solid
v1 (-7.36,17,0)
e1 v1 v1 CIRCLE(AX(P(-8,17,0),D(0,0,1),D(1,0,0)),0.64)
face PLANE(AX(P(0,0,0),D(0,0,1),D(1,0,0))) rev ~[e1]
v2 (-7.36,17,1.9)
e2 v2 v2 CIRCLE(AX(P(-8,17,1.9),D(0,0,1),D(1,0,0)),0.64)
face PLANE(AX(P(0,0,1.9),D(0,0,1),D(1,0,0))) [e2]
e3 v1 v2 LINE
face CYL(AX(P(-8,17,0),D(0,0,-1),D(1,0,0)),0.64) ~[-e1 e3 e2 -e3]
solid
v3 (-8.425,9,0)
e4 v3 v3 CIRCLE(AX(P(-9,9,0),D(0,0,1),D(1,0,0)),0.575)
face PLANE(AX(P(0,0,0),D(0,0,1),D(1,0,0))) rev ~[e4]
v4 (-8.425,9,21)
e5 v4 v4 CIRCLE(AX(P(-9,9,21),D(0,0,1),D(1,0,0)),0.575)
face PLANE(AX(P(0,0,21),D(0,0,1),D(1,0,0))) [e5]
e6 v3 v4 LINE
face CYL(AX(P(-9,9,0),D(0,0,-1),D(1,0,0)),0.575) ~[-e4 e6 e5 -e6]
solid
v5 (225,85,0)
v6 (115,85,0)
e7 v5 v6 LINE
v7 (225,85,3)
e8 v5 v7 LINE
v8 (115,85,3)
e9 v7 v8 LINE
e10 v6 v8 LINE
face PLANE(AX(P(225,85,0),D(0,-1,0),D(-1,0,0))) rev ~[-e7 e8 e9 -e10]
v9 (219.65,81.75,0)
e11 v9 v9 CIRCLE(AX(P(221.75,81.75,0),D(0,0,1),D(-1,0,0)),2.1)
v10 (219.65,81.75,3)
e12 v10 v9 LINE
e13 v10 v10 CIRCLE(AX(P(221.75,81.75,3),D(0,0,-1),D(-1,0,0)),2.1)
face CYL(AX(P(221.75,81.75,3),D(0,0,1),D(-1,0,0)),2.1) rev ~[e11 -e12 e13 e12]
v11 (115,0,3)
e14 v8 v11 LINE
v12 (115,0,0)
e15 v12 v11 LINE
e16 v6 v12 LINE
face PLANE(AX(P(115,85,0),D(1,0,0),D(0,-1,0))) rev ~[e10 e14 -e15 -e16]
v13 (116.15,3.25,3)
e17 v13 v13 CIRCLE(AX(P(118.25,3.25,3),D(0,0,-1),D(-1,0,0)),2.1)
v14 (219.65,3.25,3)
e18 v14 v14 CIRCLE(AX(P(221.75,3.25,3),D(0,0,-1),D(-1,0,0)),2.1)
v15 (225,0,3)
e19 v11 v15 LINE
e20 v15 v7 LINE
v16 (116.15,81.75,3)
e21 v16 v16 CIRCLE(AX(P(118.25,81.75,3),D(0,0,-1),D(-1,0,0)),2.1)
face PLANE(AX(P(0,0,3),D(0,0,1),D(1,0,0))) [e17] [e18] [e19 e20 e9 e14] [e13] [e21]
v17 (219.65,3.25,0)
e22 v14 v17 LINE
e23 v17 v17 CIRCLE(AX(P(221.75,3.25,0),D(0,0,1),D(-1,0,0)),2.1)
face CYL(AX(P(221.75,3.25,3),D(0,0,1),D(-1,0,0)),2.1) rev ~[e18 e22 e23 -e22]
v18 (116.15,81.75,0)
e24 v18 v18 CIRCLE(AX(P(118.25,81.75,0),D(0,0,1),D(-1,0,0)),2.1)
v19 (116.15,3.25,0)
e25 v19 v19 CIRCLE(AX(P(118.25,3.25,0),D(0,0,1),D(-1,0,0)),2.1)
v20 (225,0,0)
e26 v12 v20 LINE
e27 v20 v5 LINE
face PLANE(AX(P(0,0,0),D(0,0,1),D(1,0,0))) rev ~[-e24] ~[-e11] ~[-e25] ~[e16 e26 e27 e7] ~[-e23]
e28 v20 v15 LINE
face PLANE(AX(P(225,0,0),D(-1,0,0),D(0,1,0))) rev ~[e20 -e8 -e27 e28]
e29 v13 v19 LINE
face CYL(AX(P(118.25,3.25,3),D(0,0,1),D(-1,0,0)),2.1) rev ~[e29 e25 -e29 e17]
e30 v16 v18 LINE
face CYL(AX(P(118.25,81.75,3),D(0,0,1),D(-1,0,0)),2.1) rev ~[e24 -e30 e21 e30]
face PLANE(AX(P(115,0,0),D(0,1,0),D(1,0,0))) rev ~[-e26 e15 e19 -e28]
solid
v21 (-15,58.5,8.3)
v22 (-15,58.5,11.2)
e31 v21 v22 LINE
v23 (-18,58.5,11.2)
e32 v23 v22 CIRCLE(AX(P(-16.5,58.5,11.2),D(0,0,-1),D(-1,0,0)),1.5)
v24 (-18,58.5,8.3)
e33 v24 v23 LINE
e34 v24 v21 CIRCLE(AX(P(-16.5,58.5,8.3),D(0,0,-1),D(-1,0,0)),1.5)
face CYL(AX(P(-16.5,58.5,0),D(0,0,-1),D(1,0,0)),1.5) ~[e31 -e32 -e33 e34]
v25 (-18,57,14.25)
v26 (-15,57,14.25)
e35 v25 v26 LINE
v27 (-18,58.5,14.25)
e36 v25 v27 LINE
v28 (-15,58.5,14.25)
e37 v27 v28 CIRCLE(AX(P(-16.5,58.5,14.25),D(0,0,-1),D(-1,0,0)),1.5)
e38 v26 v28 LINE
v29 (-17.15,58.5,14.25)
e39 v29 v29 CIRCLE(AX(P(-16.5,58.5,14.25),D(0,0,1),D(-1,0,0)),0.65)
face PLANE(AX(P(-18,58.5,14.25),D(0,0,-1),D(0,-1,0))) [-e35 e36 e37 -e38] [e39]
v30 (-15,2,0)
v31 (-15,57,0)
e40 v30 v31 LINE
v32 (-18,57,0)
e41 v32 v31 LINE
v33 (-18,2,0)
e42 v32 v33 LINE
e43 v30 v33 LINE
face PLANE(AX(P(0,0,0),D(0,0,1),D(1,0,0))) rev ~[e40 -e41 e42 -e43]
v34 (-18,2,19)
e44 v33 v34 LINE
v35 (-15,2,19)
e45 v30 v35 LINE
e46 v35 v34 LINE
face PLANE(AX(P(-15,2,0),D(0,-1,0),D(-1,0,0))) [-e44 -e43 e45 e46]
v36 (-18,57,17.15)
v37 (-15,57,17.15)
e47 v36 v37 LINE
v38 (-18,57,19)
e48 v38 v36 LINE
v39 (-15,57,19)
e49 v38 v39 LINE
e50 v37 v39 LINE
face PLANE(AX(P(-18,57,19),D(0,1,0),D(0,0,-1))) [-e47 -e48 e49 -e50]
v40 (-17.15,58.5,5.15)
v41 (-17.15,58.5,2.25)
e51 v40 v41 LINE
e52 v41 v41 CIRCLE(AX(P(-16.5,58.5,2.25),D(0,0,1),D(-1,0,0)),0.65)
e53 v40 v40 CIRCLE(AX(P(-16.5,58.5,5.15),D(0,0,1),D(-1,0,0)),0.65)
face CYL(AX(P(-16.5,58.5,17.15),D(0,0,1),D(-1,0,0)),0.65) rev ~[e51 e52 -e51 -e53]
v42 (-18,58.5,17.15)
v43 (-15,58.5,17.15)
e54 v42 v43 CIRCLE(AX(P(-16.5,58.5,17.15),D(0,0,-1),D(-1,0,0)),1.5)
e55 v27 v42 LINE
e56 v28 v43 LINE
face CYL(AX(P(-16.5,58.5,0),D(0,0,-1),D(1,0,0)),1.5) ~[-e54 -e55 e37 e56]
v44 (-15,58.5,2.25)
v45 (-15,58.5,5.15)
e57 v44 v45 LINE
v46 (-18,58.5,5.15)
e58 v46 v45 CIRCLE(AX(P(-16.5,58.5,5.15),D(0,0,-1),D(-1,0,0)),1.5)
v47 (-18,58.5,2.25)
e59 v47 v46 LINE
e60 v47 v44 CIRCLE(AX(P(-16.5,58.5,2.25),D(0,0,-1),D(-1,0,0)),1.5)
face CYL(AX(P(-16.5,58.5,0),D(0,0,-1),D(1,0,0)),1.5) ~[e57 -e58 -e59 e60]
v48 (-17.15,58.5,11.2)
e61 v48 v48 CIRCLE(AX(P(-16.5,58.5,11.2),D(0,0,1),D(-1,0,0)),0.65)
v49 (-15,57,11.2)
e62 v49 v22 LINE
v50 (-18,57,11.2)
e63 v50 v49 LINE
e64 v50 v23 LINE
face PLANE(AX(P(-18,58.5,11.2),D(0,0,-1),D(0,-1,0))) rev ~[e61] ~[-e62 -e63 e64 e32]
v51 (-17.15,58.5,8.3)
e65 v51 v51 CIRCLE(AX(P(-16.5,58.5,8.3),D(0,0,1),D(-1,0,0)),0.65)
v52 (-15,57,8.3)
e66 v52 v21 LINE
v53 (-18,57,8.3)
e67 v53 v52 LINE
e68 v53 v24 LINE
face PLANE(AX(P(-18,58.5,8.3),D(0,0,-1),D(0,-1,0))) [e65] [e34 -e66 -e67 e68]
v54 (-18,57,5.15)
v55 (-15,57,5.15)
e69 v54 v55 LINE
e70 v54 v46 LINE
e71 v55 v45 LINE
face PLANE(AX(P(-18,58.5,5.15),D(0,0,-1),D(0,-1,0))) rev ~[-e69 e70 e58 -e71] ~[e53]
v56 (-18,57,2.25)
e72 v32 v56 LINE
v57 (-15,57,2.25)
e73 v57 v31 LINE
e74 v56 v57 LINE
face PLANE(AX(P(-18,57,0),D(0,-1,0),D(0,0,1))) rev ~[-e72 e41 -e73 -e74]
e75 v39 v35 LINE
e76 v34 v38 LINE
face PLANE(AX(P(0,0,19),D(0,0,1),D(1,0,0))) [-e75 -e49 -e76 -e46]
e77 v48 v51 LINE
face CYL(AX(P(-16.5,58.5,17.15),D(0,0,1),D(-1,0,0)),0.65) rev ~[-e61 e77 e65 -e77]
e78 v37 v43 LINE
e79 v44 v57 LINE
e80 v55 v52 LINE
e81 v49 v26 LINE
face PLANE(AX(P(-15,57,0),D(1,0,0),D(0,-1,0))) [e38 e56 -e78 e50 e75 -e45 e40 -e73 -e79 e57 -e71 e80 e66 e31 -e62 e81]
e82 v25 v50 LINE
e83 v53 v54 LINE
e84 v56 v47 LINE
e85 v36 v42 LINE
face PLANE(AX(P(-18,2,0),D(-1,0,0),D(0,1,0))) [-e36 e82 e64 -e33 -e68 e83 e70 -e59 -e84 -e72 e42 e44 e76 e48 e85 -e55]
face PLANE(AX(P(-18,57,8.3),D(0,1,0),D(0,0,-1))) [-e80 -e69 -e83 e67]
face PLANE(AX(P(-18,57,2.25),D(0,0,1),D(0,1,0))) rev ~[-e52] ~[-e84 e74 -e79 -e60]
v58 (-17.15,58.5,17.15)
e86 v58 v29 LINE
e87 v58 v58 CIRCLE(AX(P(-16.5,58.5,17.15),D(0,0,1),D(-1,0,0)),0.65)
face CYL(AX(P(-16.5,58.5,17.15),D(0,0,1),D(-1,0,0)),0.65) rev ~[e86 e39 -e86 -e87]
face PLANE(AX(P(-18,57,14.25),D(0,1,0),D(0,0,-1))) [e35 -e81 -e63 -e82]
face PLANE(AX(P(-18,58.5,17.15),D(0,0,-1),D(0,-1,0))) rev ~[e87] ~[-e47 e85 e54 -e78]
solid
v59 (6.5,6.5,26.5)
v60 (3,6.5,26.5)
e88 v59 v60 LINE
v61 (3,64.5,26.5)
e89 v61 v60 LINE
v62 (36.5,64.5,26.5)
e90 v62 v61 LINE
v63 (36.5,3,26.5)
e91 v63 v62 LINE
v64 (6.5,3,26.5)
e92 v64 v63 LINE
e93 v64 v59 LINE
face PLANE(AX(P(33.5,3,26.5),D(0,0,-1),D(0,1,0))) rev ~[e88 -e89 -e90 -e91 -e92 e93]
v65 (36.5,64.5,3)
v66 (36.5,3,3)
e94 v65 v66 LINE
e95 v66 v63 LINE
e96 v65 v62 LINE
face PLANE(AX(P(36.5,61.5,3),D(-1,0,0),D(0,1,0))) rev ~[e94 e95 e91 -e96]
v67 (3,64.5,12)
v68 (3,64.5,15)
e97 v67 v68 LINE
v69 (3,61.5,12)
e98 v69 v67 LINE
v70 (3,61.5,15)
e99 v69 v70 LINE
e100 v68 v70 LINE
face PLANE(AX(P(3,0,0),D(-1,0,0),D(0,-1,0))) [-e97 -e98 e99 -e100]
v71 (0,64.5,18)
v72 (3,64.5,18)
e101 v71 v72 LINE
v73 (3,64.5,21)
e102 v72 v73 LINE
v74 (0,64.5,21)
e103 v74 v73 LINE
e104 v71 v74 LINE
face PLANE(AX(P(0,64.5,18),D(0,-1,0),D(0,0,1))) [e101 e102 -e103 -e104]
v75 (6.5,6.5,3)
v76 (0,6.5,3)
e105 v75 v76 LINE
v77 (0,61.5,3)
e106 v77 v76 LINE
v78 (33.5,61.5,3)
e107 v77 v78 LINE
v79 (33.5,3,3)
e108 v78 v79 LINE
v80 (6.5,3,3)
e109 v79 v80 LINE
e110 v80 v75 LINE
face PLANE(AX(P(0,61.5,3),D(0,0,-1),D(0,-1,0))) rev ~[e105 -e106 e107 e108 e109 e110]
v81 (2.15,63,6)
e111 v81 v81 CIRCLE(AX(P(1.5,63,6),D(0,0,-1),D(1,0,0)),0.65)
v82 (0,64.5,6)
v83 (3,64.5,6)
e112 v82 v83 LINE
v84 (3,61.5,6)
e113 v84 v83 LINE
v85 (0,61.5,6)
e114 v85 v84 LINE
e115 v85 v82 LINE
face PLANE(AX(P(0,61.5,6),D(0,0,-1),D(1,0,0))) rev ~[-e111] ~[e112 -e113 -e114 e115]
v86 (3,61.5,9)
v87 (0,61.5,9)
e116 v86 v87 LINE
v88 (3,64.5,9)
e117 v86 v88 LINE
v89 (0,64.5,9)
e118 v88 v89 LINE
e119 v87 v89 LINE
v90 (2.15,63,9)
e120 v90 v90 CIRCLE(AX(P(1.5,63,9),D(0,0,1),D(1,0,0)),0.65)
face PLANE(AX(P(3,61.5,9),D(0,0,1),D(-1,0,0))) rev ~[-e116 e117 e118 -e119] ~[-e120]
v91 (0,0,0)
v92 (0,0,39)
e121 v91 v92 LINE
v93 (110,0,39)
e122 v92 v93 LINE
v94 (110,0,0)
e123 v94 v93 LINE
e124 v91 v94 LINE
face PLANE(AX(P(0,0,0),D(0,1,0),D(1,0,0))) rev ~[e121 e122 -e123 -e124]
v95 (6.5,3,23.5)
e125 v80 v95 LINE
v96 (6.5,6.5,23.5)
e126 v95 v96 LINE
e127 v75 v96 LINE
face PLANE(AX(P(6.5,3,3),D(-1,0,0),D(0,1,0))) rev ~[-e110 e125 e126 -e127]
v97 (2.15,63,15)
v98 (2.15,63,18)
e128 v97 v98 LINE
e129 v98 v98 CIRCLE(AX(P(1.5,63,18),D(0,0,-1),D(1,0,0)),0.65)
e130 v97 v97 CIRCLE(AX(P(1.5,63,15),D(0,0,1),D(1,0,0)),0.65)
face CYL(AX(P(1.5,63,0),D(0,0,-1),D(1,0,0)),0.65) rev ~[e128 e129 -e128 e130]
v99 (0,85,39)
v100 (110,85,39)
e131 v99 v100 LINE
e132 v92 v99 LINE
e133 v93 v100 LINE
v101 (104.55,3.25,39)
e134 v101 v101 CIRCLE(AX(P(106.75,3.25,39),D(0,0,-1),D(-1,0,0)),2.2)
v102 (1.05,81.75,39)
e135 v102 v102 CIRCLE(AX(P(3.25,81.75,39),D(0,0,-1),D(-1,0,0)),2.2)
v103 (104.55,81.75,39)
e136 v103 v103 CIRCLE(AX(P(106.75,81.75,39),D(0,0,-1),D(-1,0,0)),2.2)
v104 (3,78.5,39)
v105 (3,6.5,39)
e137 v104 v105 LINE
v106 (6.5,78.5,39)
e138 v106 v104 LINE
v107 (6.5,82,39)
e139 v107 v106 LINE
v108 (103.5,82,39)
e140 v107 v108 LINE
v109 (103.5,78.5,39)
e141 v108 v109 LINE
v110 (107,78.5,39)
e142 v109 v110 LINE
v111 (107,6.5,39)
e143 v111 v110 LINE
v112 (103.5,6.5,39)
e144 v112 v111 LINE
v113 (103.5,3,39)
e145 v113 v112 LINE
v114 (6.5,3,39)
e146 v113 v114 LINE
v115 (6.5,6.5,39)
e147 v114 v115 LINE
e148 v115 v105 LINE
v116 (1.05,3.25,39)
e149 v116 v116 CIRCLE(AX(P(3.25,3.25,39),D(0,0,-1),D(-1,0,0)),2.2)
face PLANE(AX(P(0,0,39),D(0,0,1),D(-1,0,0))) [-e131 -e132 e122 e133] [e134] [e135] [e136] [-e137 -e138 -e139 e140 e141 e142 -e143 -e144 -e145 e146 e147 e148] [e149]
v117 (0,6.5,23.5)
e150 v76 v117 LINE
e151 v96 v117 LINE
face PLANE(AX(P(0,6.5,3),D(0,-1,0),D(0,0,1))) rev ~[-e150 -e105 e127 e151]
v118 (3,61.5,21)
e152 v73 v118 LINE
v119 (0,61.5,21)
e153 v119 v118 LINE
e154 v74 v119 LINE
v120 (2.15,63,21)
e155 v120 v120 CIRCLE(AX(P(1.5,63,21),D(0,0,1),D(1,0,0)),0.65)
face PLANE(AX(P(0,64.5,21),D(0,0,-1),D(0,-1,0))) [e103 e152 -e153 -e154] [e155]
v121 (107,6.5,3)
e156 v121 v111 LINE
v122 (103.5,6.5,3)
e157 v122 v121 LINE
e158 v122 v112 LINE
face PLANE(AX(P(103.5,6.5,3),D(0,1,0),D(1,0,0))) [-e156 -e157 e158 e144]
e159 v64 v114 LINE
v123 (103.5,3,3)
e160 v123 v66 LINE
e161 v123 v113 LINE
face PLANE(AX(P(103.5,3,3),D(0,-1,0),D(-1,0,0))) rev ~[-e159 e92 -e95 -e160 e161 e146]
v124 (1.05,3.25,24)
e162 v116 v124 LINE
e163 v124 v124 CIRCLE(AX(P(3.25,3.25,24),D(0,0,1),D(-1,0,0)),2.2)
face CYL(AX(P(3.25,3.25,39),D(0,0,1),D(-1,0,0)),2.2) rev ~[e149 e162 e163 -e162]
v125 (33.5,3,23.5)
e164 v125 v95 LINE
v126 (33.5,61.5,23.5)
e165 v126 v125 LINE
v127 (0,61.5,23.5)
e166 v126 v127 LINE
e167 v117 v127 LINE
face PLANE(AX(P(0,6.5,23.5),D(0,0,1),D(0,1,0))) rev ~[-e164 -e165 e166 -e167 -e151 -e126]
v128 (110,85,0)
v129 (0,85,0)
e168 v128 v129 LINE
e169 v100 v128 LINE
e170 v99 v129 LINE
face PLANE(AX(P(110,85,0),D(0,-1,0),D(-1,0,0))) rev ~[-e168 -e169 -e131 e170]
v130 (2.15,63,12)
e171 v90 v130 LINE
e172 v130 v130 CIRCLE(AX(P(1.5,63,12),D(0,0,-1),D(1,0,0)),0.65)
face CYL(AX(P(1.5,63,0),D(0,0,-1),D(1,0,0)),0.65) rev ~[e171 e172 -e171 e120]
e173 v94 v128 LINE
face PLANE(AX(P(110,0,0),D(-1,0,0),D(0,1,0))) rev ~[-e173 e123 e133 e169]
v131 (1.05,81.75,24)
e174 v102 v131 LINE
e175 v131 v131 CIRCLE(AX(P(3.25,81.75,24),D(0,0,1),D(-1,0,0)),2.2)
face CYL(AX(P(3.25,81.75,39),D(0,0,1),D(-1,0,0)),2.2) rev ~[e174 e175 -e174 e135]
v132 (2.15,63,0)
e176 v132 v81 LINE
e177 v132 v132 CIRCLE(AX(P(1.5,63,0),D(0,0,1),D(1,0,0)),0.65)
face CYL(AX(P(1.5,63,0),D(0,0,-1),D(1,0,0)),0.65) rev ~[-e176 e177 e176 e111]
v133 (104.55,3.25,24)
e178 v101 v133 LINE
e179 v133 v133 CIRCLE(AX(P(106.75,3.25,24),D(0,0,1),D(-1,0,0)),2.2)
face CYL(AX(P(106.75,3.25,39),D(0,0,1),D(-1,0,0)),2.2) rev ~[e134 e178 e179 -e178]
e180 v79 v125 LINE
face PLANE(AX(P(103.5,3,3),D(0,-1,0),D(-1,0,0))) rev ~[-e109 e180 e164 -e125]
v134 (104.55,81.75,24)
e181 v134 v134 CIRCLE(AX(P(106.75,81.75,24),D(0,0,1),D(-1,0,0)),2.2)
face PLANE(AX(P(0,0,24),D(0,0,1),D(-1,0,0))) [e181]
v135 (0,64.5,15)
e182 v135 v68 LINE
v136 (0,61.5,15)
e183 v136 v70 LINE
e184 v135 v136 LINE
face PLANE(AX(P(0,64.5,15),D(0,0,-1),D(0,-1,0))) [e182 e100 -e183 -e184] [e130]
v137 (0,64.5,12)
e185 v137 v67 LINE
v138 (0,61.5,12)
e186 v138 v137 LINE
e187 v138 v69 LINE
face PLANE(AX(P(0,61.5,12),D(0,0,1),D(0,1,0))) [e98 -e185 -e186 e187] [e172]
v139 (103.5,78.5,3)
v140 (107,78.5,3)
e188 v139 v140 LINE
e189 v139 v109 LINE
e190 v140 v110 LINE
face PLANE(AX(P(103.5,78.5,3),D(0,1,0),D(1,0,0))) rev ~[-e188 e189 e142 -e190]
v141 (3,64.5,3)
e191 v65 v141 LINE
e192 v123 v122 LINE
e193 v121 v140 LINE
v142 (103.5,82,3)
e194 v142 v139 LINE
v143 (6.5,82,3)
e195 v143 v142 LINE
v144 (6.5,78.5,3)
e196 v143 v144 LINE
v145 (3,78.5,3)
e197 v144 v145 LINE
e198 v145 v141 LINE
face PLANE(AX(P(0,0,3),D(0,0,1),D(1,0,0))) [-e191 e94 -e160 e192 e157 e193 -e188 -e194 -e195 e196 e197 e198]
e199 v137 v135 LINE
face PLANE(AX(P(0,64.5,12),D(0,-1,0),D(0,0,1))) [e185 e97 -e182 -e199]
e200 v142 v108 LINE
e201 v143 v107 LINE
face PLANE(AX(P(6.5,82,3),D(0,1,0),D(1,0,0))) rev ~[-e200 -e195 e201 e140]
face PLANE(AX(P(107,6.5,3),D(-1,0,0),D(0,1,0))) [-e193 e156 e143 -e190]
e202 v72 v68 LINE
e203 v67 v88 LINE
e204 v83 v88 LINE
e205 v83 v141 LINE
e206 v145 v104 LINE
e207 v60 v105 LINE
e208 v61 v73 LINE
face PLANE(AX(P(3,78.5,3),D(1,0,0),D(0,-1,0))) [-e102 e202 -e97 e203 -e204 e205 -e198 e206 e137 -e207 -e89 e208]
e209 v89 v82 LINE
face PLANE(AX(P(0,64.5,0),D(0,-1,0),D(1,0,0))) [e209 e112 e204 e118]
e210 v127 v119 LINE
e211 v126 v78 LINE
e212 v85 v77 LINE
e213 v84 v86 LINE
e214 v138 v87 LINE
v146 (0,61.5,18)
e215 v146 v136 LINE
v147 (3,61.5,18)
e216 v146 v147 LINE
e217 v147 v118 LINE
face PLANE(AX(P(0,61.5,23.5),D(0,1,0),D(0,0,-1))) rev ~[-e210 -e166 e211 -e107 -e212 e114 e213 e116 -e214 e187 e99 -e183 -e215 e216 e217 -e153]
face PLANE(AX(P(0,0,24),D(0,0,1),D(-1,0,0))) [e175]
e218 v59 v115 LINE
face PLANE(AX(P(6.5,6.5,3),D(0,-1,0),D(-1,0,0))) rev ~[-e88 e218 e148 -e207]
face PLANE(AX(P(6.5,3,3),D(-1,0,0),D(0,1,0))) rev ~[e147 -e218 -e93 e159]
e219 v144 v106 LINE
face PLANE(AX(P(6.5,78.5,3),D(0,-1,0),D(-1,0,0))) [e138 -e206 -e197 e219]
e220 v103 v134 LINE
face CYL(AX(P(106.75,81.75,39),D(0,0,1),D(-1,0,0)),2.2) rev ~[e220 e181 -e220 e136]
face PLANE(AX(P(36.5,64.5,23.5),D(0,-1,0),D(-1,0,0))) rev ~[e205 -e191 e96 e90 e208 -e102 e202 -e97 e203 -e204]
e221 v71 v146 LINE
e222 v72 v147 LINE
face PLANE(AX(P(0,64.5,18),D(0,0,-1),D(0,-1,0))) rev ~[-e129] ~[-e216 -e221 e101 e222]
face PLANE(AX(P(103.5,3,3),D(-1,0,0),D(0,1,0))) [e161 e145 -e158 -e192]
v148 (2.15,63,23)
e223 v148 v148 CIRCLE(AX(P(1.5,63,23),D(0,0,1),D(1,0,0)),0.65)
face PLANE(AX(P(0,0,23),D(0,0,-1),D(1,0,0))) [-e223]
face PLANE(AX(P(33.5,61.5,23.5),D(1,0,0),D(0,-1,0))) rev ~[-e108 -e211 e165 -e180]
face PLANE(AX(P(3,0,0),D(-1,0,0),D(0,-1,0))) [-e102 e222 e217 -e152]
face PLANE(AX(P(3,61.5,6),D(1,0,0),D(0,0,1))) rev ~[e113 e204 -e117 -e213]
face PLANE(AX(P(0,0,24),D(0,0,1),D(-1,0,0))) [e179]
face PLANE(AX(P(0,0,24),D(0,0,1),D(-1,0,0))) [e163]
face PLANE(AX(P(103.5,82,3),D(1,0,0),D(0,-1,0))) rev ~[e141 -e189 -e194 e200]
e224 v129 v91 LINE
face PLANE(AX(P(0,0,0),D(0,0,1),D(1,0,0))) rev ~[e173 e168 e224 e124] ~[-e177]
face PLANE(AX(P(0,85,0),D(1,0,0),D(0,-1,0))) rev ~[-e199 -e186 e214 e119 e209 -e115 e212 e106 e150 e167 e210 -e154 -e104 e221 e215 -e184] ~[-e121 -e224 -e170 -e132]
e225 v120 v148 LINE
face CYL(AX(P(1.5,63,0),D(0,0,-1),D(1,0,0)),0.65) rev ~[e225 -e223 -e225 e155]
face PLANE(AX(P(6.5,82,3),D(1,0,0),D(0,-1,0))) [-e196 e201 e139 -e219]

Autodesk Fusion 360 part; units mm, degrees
sketch "Sketch1" plane through (0, 0, 0) normal (0, 0, 1) x (1, 0, 0)
  line L0 (0, 0) -> (110, 0)
  line L1 (110, 0) -> (110, 85)
  line L2 (110, 85) -> (0, 85)
  line L3 (0, 85) -> (0, 0)
  dimension "d1" = 110
  dimension "d2" = 85
extrude "Extrude1" add sketch "Sketch1" along normal blind 3 makes body 1
sketch "Sketch2" plane through (0, 0, 3) normal (0, 0, 1) x (-1, 0, 0)
  line L0 (0, -85) -> (0, 0)
  line L1 (0, 0) -> (-110, 0)
  line L2 (-110, 0) -> (-110, -85)
  line L3 (-110, -85) -> (0, -85)
  line L4 (0, 0) -> (-6.5, 0)
  line L5 (-6.5, 0) -> (-6.5, -6.5)
  line L6 (-6.5, -6.5) -> (0, -6.5)
  line L7 (0, -6.5) -> (0, 0)
  line L8 (0, -85) -> (-6.5, -85)
  line L9 (-6.5, -85) -> (-6.5, -78.5)
  line L10 (-6.5, -78.5) -> (0, -78.5)
  line L11 (0, -78.5) -> (0, -85)
  line L12 (-110, -85) -> (-103.5, -85)
  line L13 (-103.5, -85) -> (-103.5, -78.5)
  line L14 (-103.5, -78.5) -> (-110, -78.5)
  line L15 (-110, -78.5) -> (-110, -85)
  line L16 (-110, 0) -> (-103.5, 0)
  line L17 (-103.5, 0) -> (-103.5, -6.5)
  line L18 (-103.5, -6.5) -> (-110, -6.5)
  line L19 (-110, -6.5) -> (-110, 0)
  line L20 (-6.5, 0) -> (-103.5, 0)
  line L21 (-103.5, 0) -> (-103.5, -3)
  line L22 (-103.5, -3) -> (-6.5, -3)
  line L23 (-6.5, -3) -> (-6.5, 0)
  line L24 (-110, -6.5) -> (-107, -6.5)
  line L25 (-107, -6.5) -> (-107, -78.5)
  line L26 (-107, -78.5) -> (-110, -78.5)
  line L27 (-110, -78.5) -> (-110, -6.5)
  line L28 (-103.5, -85) -> (-6.5, -85)
  line L29 (-6.5, -85) -> (-6.5, -82)
  line L30 (-6.5, -82) -> (-103.5, -82)
  line L31 (-103.5, -82) -> (-103.5, -85)
  line L32 (0, -78.5) -> (-3, -78.5)
  line L33 (-3, -78.5) -> (-3, -6.5)
  line L34 (-3, -6.5) -> (0, -6.5)
  line L35 (0, -6.5) -> (0, -78.5)
  dimension "d5" = 6.5
  dimension "d6" = 6.5
  dimension "d7" = 6.5
  dimension "d8" = 6.5
  dimension "d9" = 6.5
  dimension "d10" = 6.5
  dimension "d11" = 6.5
  dimension "d12" = 6.5
  dimension "d13" = 97
  dimension "d14" = 3
  dimension "d15" = 3
  dimension "d16" = 72
  dimension "d17" = 3
  dimension "d18" = 3
extrude "Extrude2" add sketch "Sketch2" along normal blind 36 contours L0 L3 L8 L9 L10 L11 L29 L32 | L0 L6 L10 L32 L33 L34 L35 | L3 L9 L13 L28 L29 L30 L31 | L0 L1 L4 L5 L6 L7 L23 L34 | L2 L3 L12 L13 L14 L15 L26 L31 | L1 L5 L17 L20 L21 L22 L23 | L2 L14 L18 L24 L25 L26 L27 | L1 L2 L16 L17 L18 L19 L21 L24 bodies 1
sketch "Sketch3" plane through (0, 0, 3) normal (0, 0, 1) x (-1, 0, 0)
  line L0 (-6.5, -78.5) -> (-3, -78.5)
  line L1 (-3, -78.5) -> (-3, -6.5)
  line L2 (-3, -6.5) -> (-6.5, -6.5)
  line L3 (-6.5, -6.5) -> (-6.5, -3)
  line L4 (-6.5, -3) -> (-103.5, -3)
  line L5 (-103.5, -3) -> (-103.5, -6.5)
  line L6 (-103.5, -6.5) -> (-107, -6.5)
  line L7 (-107, -6.5) -> (-107, -78.5)
  line L8 (-107, -78.5) -> (-103.5, -78.5)
  line L9 (-103.5, -78.5) -> (-103.5, -82)
  line L10 (-103.5, -82) -> (-6.5, -82)
  line L11 (-6.5, -82) -> (-6.5, -78.5)
  line L12 (-6.5, -3) -> (-33.5, -3)
  line L13 (-6.5, -6.5) -> (-6.5, -61.5)
  line L14 (-6.5, -61.5) -> (-1.333, -61.5)
  line L15 (-3, -61.5) -> (-36.5, -61.5)
  line L16 (-36.5, -61.5) -> (-36.5, -64.5)
  line L17 (-36.5, -64.5) -> (-3, -64.5)
  line L18 (-3, -64.5) -> (-3, -61.5)
  line L19 (-36.5, -64.5) -> (-33.5, -64.5)
  line L20 (-33.5, -64.5) -> (-33.5, -3)
  line L21 (-33.5, -3) -> (-36.5, -3)
  line L22 (-36.5, -3) -> (-36.5, -64.5)
  dimension "d21" = 27
  dimension "d22" = 55
  dimension "d23" = 33.5
  dimension "d24" = 3
extrude "Extrude3" add sketch "Sketch3" along normal blind 20.5 contours L1 L14 L15 L17 L18 L20 | L15 L16 L17 L19 L20 L22 | L4 L15 L20 L21 L22 bodies 1
sketch "Sketch4" plane through (0, 0, 23.5) normal (0, 0, 1) x (-1, 0, 0)
  line L0 (-36.5, -3) -> (-36.5, -64.5)
  line L1 (-36.5, -64.5) -> (-3, -64.5)
  line L2 (-3, -64.5) -> (-3, -61.5)
  line L3 (-3, -61.5) -> (-33.5, -61.5)
  line L4 (-33.5, -61.5) -> (-33.5, -3)
  line L5 (-33.5, -3) -> (-36.5, -3)
  line L6 (-3, -64.5) -> (-36.5, -64.5)
  line L7 (-36.5, -64.5) -> (-36.5, -3)
  line L8 (-36.5, -3) -> (-3, -3)
  line L9 (-3, -3) -> (-3, -64.5)
sketch "Sketch5" plane through (0, 0, 23.5) normal (0, 0, 1) x (1, 0, 0)
sketch "Sketch6" plane through (0, 0, 23.5) normal (0, 0, 1) x (1, 0, 0)
sketch "Sketch7" plane through (0, 0, 23.5) normal (0, 0, 1) x (-1, 0, 0)
extrude "Extrude4" add sketch "Sketch4" along normal blind 3 contours L0 L1 L2 L3 L4 L5 L6 L7 L8 L9 bodies 1
sketch "Sketch8" plane through (0, 61.5, 0) normal (0, -1, 0) x (1, 0, 0)
  line L0 (3, 3) -> (33.5, 3)
  line L1 (33.5, 3) -> (33.5, 26.5)
  line L2 (33.5, 26.5) -> (3, 26.5)
  line L3 (3, 26.5) -> (3, 3)
  line L4 (3, 26.5) -> (33.5, 26.5)
  line L5 (33.5, 26.5) -> (33.5, 23.5)
  line L6 (33.5, 23.5) -> (3, 23.5)
  line L7 (3, 23.5) -> (3, 26.5)
  dimension "d29" = 3
extrude "Extrude5" add sketch "Sketch8" along normal blind 55 contours L1 L2 L3 L4 L5 L6 L7 bodies 1
sketch "Sketch9" plane through (33.5, 0, 0) normal (-1, 0, 0) x (0, -1, 0)
  line L0 (-6.5, 23.5) -> (-61.5, 23.5)
  line L1 (-61.5, 23.5) -> (-61.5, 3)
  line L2 (-61.5, 3) -> (-3, 3)
  line L3 (-3, 3) -> (-3, 26.5)
  line L4 (-3, 26.5) -> (-6.5, 26.5)
  line L5 (-6.5, 26.5) -> (-6.5, 23.5)
  line L6 (-6.5, 26.5) -> (-3, 26.5)
  line L7 (-3, 26.5) -> (-3, 23.5)
  line L8 (-3, 23.5) -> (-6.5, 23.5)
  line L9 (-6.5, 23.5) -> (-6.5, 26.5)
  dimension "d32" = 3
extrude "Extrude6" add sketch "Sketch9" along normal blind 27 contours L3 L4 L5 L6 L7 L8 L9 bodies 1
sketch "Sketch10" plane through (0, 0, 0) normal (-1, 0, 0) x (0, -1, 0)
  line L0 (-85, 0) -> (0, 0)
  line L1 (0, 0) -> (0, 39)
  line L2 (0, 39) -> (-85, 39)
  line L3 (-85, 39) -> (-85, 0)
  line L4 (0, 0) -> (-6.5, 0)
  line L5 (-6.5, 0) -> (-6.5, 3)
  line L6 (-6.5, 3) -> (-6.5, 23.5)
  line L7 (-6.5, 23.5) -> (-61.5, 23.5)
  line L8 (-61.5, 23.5) -> (-61.5, 3)
  line L9 (-61.5, 3) -> (-6.5, 3)
  dimension "d35" = 6.5
  dimension "d36" = 3
  dimension "d37" = 20.5
  dimension "d38" = 55
extrude "Extrude7" cut sketch "Sketch10" against normal blind 3 contours L6 L7 L8 L9 bodies 1
sketch "Sketch11" plane through (0, 0, 39) normal (0, 0, 1) x (-1, 0, 0)
  line L0 (-6.5, -78.5) -> (-6.5, -82)
  line L1 (-6.5, -82) -> (-103.5, -82)
  line L2 (-103.5, -82) -> (-103.5, -78.5)
  line L3 (-103.5, -78.5) -> (-107, -78.5)
  line L4 (-107, -78.5) -> (-107, -6.5)
  line L5 (-107, -6.5) -> (-103.5, -6.5)
  line L6 (-103.5, -6.5) -> (-103.5, -3)
  line L7 (-103.5, -3) -> (-6.5, -3)
  line L8 (-6.5, -3) -> (-6.5, -6.5)
  line L9 (-6.5, -6.5) -> (-3, -6.5)
  line L10 (-3, -6.5) -> (-3, -78.5)
  line L11 (-3, -78.5) -> (-6.5, -78.5)
  line L12 (0, 0) -> (-110, 0)
  line L13 (-110, 0) -> (-110, -85)
  line L14 (-110, -85) -> (0, -85)
  line L15 (0, -85) -> (0, 0)
  line L16 (0, -78.5) -> (-3.25, -78.5)
  line L17 (-3.25, -78.5) -> (-3.25, -81.75)
  circle A0 centre (-3.25, -81.75) radius 2.2
  line L18 (0, 0) -> (-3.25, 0)
  line L19 (-3.25, 0) -> (-3.25, -3.25)
  circle A1 centre (-3.25, -3.25) radius 2.2
  line L20 (-110, 0) -> (-106.75, 0)
  line L21 (-106.75, 0) -> (-106.75, -3.25)
  circle A2 centre (-106.75, -3.25) radius 2.2
  line L22 (-110, -85) -> (-106.75, -85)
  line L23 (-106.75, -85) -> (-106.75, -81.75)
  circle A3 centre (-106.75, -81.75) radius 2.2
  dimension "d41" = 3.25
  dimension "d42" = 3.25
  dimension "d43" = 4.4
  dimension "d44" = 3.25
  dimension "d45" = 3.25
  dimension "d46" = 4.4
  dimension "d47" = 3.25
  dimension "d48" = 3.25
  dimension "d49" = 4.4
  dimension "d50" = 3.25
  dimension "d51" = 3.25
  dimension "d52" = 4.4
extrude "Extrude8" cut sketch "Sketch11" against normal blind 15 contours A1 | A2 | A3 | A0 bodies 1
sketch "Sketch12" plane through (0, 0, 0) normal (0, 0, 1) x (1, 0, 0)
  line L0 (115, 0) -> (225, 0)
  line L1 (225, 0) -> (225, 85)
  line L2 (225, 85) -> (115, 85)
  line L3 (115, 85) -> (115, 0)
  dimension "d55" = 110
  dimension "d56" = 85
extrude "Extrude9" add sketch "Sketch12" along normal blind 3 separate body makes body 2
sketch "Sketch13" plane through (0, 0, 3) normal (0, 0, 1) x (-1, 0, 0)
  line L0 (-115, -85) -> (-115, 0)
  line L1 (-115, 0) -> (-225, 0)
  line L2 (-225, 0) -> (-225, -85)
  line L3 (-225, -85) -> (-115, -85)
  line L4 (-115, 0) -> (-118.25, 0)
  line L5 (-118.25, 0) -> (-118.25, -3.25)
  circle A0 centre (-118.25, -3.25) radius 2.2
  line L6 (-115, -85) -> (-118.25, -85)
  line L7 (-118.25, -85) -> (-118.25, -81.75)
  circle A1 centre (-118.25, -81.75) radius 2.2
  line L8 (-225, -85) -> (-221.75, -85)
  line L9 (-221.75, -85) -> (-221.75, -81.75)
  circle A2 centre (-221.75, -81.75) radius 2.2
  line L10 (-225, 0) -> (-221.75, 0)
  line L11 (-221.75, 0) -> (-221.75, -3.25)
  circle A3 centre (-221.75, -3.25) radius 2.2
  circle A4 centre (-118.25, -81.75) radius 2.1
  circle A5 centre (-221.75, -81.75) radius 2.1
  circle A6 centre (-221.75, -3.25) radius 2.1
  circle A7 centre (-118.25, -3.25) radius 2.1
  dimension "d59" = 3.25
  dimension "d60" = 3.25
  dimension "d61" = 4.4
  dimension "d62" = 3.25
  dimension "d63" = 3.25
  dimension "d64" = 4.4
  dimension "d65" = 3.25
  dimension "d66" = 3.25
  dimension "d67" = 4.4
  dimension "d68" = 3.25
  dimension "d69" = 3.25
  dimension "d70" = 4.4
  dimension "d71" = 4.2
  dimension "d72" = 4.2
  dimension "d73" = 4.2
  dimension "d74" = 4.2
extrude "Extrude10" cut sketch "Sketch13" against normal blind 3 contours A7 | A6 | A5 | A4 bodies 2
sketch "Sketch14" plane through (0, 61.5, 0) normal (0, -1, 0) x (1, 0, 0)
  line L0 (33.5, 23.5) -> (0, 23.5)
  line L1 (0, 23.5) -> (0, 3)
  line L2 (0, 3) -> (33.5, 3)
  line L3 (33.5, 3) -> (33.5, 23.5)
  line L4 (0, 3) -> (3, 3)
  line L5 (3, 3) -> (3, 6)
  line L6 (3, 6) -> (0, 6)
  line L7 (0, 6) -> (0, 3)
sketch "Sketch15" plane through (0, 61.5, 0) normal (0, -1, 0) x (1, 0, 0)
  line L0 (0, 6) -> (3, 6)
  line L1 (3, 6) -> (3, 9)
  line L2 (3, 9) -> (0, 9)
  line L3 (0, 9) -> (0, 6)
extrude "Extrude11" cut sketch "Sketch15" against normal blind 3 bodies 1
sketch "Sketch16" plane through (16.75, 61.5, 13.25) normal (0, -1, 0) x (1, 0, 0)
sketch "Sketch17" plane through (16.75, 61.5, 13.25) normal (0, -1, 0) x (1, 0, 0)
sketch "Sketch18" plane through (0, 0, 0) normal (-1, 0, 0) x (0, -1, 0)
  line L0 (-85, 0) -> (0, 0)
  line L1 (0, 0) -> (0, 39)
  line L2 (0, 39) -> (-85, 39)
  line L3 (-85, 39) -> (-85, 0)
  line L4 (-61.5, 6) -> (-64.5, 6)
  line L5 (-64.5, 6) -> (-64.5, 9)
  line L6 (-64.5, 9) -> (-61.5, 9)
  line L7 (-61.5, 9) -> (-61.5, 23.5)
  line L8 (-61.5, 23.5) -> (-6.5, 23.5)
  line L9 (-6.5, 23.5) -> (-6.5, 3)
  line L10 (-6.5, 3) -> (-61.5, 3)
  line L11 (-61.5, 3) -> (-61.5, 6)
  line L12 (-64.5, 9) -> (-61.5, 9)
  line L13 (-61.5, 9) -> (-61.5, 12)
  line L14 (-61.5, 12) -> (-64.5, 12)
  line L15 (-64.5, 12) -> (-64.5, 9)
  line L16 (-61.5, 12) -> (-64.5, 12)
  line L17 (-64.5, 12) -> (-64.5, 15)
  line L18 (-64.5, 15) -> (-61.5, 15)
  line L19 (-61.5, 15) -> (-61.5, 12)
extrude "Extrude12" cut sketch "Sketch18" against normal blind 3 contours L7 L14 L16 L17 L18 L19 bodies 1
sketch "Sketch19" plane through (0, 0, 0) normal (-1, 0, 0) x (0, -1, 0)
  line L0 (-64.5, 15) -> (-61.5, 15)
  line L1 (-61.5, 15) -> (-61.5, 23.5)
  line L2 (-61.5, 23.5) -> (-6.5, 23.5)
  line L3 (-6.5, 23.5) -> (-6.5, 3)
  line L4 (-6.5, 3) -> (-61.5, 3)
  line L5 (-61.5, 3) -> (-61.5, 6)
  line L6 (-61.5, 6) -> (-64.5, 6)
  line L7 (-64.5, 6) -> (-64.5, 9)
  line L8 (-64.5, 9) -> (-61.5, 9)
  line L9 (-61.5, 9) -> (-61.5, 12)
  line L10 (-61.5, 12) -> (-64.5, 12)
  line L11 (-64.5, 12) -> (-64.5, 15)
  line L12 (-85, 0) -> (0, 0)
  line L13 (0, 0) -> (0, 39)
  line L14 (0, 39) -> (-85, 39)
  line L15 (-85, 39) -> (-85, 0)
  line L16 (-61.5, 15) -> (-64.5, 15)
  line L17 (-64.5, 15) -> (-64.5, 18)
  line L18 (-64.5, 18) -> (-61.5, 18)
  line L19 (-61.5, 18) -> (-61.5, 15)
  line L20 (-61.5, 18) -> (-64.5, 18)
  line L21 (-64.5, 18) -> (-64.5, 21)
  line L22 (-64.5, 21) -> (-61.5, 21)
  line L23 (-61.5, 21) -> (-61.5, 18)
  dimension "d81" = 3
  dimension "d82" = 3
  dimension "d83" = 3
  dimension "d84" = 3
extrude "Extrude13" cut sketch "Sketch19" against normal blind 3 contours L1 L18 L20 L21 L22 L23 bodies 1
sketch "Sketch20" plane through (0, 0, 0) normal (0, 0, 1) x (1, 0, 0)
  line L0 (-15, 2) -> (-18, 2)
  line L1 (-18, 2) -> (-18, 60)
  line L2 (-18, 60) -> (-15, 60)
  line L3 (-15, 60) -> (-15, 2)
  line L4 (-18, 60) -> (-15, 60)
  line L5 (-15, 60) -> (-15, 57)
  line L6 (-15, 57) -> (-18, 57)
  line L7 (-18, 57) -> (-18, 60)
  circle A0 centre (-16.5, 58.5) radius 1.5
  dimension "d87" = 3
  dimension "d88" = 58
  dimension "d89" = 3
  dimension "d90" = 3
extrude "Extrude14" add sketch "Sketch20" along normal blind 20 separate body contours L0 L1 L3 L6 | L3 L5 L6 A0 | L1 L6 L7 A0 | A0 makes body 3
extrude "Extrude15" cut 1 faces at (-17, 39.6667, 20) along direction (0, 0, -1) blind 1 on bodies 3 bodies 3
sketch "Sketch21" plane through (-18, 0, 0) normal (-1, 0, 0) x (0, -1, 0)
  line L0 (-2, 19) -> (-58.5, 19)
  line L1 (-58.5, 19) -> (-58.5, 0)
  line L2 (-58.5, 0) -> (-2, 0)
  line L3 (-2, 0) -> (-2, 19)
  line L4 (-60, 0) -> (-57, 0)
  line L5 (-57, 0) -> (-57, 2.25)
  line L6 (-57, 2.25) -> (-60, 2.25)
  line L7 (-60, 2.25) -> (-60, 0)
  line L8 (-57, 2.25) -> (-60, 2.25)
  line L9 (-60, 2.25) -> (-60, 5.15)
  line L10 (-60, 5.15) -> (-57, 5.15)
  line L11 (-57, 5.15) -> (-57, 2.25)
  dimension "d95" = 3
  dimension "d96" = 2.25
  dimension "d97" = 2.9
sketch "Sketch22" plane through (-18, 30.25, 9.5) normal (-1, 0, 0) x (0, -1, 0)
extrude "Extrude16" cut sketch "Sketch21" against normal blind 4 contours L1 L2 L4 L5 L6 L8 | L1 L4 L6 L7 L8 bodies 3
sketch "Sketch23" plane through (-18, 0, 0) normal (-1, 0, 0) x (0, -1, 0)
  line L0 (-57, 2.25) -> (-57, 0)
  line L1 (-57, 0) -> (-2, 0)
  line L2 (-2, 0) -> (-2, 19)
  line L3 (-2, 19) -> (-58.5, 19)
  line L4 (-58.5, 19) -> (-58.5, 2.25)
  line L5 (-58.5, 2.25) -> (-57, 2.25)
  line L6 (-57, 2.25) -> (-60, 2.25)
  line L7 (-60, 2.25) -> (-60, 5.15)
  line L8 (-60, 5.15) -> (-57, 5.15)
  line L9 (-57, 5.15) -> (-57, 2.25)
  line L10 (-57, 5.15) -> (-59.9423, 5.15)
  line L11 (-59.9423, 5.15) -> (-59.9423, 8.3)
  line L12 (-59.9423, 8.3) -> (-57, 8.3)
  line L13 (-57, 8.3) -> (-57, 5.15)
  line L14 (-57, 8.3) -> (-60, 8.3)
  line L15 (-60, 8.3) -> (-60, 11.2)
  line L16 (-60, 11.2) -> (-57, 11.2)
  line L17 (-57, 11.2) -> (-57, 8.3)
  line L18 (-57, 11.2) -> (-60, 11.2)
  line L19 (-60, 11.2) -> (-60, 14.25)
  line L20 (-60, 14.25) -> (-57, 14.25)
  line L21 (-57, 14.25) -> (-57, 11.2)
  line L22 (-57, 14.25) -> (-60, 14.25)
  line L23 (-60, 14.25) -> (-60, 17.15)
  line L24 (-60, 17.15) -> (-57, 17.15)
  line L25 (-57, 17.15) -> (-57, 14.25)
  line L26 (-57, 17.15) -> (-60, 17.15)
  line L27 (-60, 17.15) -> (-60, 19)
  line L28 (-60, 19) -> (-57, 19)
  line L29 (-57, 19) -> (-57, 17.15)
  dimension "d100" = 3
  dimension "d101" = 2.9
  dimension "d102" = 3.15
  dimension "d103" = 3
  dimension "d104" = 2.9
  dimension "d105" = 3
  dimension "d106" = 3.05
  dimension "d107" = 3
  dimension "d108" = 2.9
extrude "Extrude17" cut sketch "Sketch23" against normal blind 4 contours L4 L8 L10 L12 L13 L14 | L4 L8 L10 L11 L12 L14 | L4 L16 L18 L20 L21 L22 | L3 L4 L24 L26 L28 L29 | L4 L16 L18 L19 L20 L22 | L4 L24 L26 L27 L28 bodies 3
extrude "Extrude18" cut 1 faces at (-17, 57, 7.25) along direction (0, 1, 0) blind 3.5 on bodies 3 bodies 3
sketch "Sketch24" plane through (0, 0, 17.15) normal (0, 0, 1) x (-1, 0, 0)
  arc A0 (15, -58.5) -> (18, -58.5) centre (16.5, -58.5) ccw
  line L0 (18, -58.5) -> (18, -57)
  line L1 (18, -57) -> (15, -57)
  line L2 (15, -57) -> (15, -58.5)
  line L3 (15, -57) -> (18, -57)
  line L4 (18, -57) -> (18, -60)
  line L5 (18, -60) -> (15, -60)
  line L6 (15, -60) -> (15, -57)
  circle A1 centre (16.5, -58.5) radius 0.65
  dimension "d113" = 3
  dimension "d114" = 1.3
extrude "Extrude19" cut sketch "Sketch24" against normal blind 17 contours A1 bodies 3
sketch "Sketch25" plane through (0, 0, 0) normal (-1, 0, 0) x (0, -1, 0)
  line L0 (-64.5, 21) -> (-61.5, 21)
  line L1 (-61.5, 21) -> (-61.5, 23.5)
  line L2 (-61.5, 23.5) -> (-6.5, 23.5)
  line L3 (-6.5, 23.5) -> (-6.5, 3)
  line L4 (-6.5, 3) -> (-61.5, 3)
  line L5 (-61.5, 3) -> (-61.5, 6)
  line L6 (-61.5, 6) -> (-64.5, 6)
  line L7 (-64.5, 6) -> (-64.5, 9)
  line L8 (-64.5, 9) -> (-61.5, 9)
  line L9 (-61.5, 9) -> (-61.5, 12)
  line L10 (-61.5, 12) -> (-64.5, 12)
  line L11 (-64.5, 12) -> (-64.5, 15)
  line L12 (-64.5, 15) -> (-61.5, 15)
  line L13 (-61.5, 15) -> (-61.5, 18)
  line L14 (-61.5, 18) -> (-64.5, 18)
  line L15 (-64.5, 18) -> (-64.5, 21)
  line L16 (-85, 0) -> (0, 0)
  line L17 (0, 0) -> (0, 39)
  line L18 (0, 39) -> (-85, 39)
  line L19 (-85, 39) -> (-85, 0)
  line L20 (-61.5, 3) -> (-61.5, 0)
sketch "Sketch26" plane through (0, 0, 0) normal (0, 0, -1) x (1, 0, 0)
  line L0 (0, 0) -> (0, -85)
  line L1 (0, -85) -> (110, -85)
  line L2 (110, -85) -> (110, 0)
  line L3 (110, 0) -> (0, 0)
  line L4 (0, -61.5) -> (3, -61.5)
  line L5 (3, -61.5) -> (3, -64.5)
  line L6 (3, -64.5) -> (0, -64.5)
  line L7 (0, -64.5) -> (0, -61.5)
  line L8 (3, -61.5) -> (1.5, -61.5)
  line L9 (1.5, -61.5) -> (1.5, -63)
  circle A0 centre (1.5, -63) radius 0.65
  dimension "d117" = 3
  dimension "d118" = 3
  dimension "d119" = 1.3
extrude "Extrude20" cut sketch "Sketch26" against normal blind 23 contours A0 bodies 1
sketch "Sketch27" plane through (0, 0, 0) normal (0, 0, 1) x (1, 0, 0)
  circle A0 centre (-9, 9) radius 0.575
  dimension "d122" = 1.15
extrude "Extrude21" add sketch "Sketch27" along normal blind 21 separate body makes body 4
sketch "Sketch28" plane through (0, 0, 0) normal (0, 0, 1) x (1, 0, 0)
  circle A0 centre (-8, 17) radius 0.64
  dimension "d125" = 1.28
extrude "Extrude22" add sketch "Sketch28" along normal blind 1.9 separate body makes body 5
